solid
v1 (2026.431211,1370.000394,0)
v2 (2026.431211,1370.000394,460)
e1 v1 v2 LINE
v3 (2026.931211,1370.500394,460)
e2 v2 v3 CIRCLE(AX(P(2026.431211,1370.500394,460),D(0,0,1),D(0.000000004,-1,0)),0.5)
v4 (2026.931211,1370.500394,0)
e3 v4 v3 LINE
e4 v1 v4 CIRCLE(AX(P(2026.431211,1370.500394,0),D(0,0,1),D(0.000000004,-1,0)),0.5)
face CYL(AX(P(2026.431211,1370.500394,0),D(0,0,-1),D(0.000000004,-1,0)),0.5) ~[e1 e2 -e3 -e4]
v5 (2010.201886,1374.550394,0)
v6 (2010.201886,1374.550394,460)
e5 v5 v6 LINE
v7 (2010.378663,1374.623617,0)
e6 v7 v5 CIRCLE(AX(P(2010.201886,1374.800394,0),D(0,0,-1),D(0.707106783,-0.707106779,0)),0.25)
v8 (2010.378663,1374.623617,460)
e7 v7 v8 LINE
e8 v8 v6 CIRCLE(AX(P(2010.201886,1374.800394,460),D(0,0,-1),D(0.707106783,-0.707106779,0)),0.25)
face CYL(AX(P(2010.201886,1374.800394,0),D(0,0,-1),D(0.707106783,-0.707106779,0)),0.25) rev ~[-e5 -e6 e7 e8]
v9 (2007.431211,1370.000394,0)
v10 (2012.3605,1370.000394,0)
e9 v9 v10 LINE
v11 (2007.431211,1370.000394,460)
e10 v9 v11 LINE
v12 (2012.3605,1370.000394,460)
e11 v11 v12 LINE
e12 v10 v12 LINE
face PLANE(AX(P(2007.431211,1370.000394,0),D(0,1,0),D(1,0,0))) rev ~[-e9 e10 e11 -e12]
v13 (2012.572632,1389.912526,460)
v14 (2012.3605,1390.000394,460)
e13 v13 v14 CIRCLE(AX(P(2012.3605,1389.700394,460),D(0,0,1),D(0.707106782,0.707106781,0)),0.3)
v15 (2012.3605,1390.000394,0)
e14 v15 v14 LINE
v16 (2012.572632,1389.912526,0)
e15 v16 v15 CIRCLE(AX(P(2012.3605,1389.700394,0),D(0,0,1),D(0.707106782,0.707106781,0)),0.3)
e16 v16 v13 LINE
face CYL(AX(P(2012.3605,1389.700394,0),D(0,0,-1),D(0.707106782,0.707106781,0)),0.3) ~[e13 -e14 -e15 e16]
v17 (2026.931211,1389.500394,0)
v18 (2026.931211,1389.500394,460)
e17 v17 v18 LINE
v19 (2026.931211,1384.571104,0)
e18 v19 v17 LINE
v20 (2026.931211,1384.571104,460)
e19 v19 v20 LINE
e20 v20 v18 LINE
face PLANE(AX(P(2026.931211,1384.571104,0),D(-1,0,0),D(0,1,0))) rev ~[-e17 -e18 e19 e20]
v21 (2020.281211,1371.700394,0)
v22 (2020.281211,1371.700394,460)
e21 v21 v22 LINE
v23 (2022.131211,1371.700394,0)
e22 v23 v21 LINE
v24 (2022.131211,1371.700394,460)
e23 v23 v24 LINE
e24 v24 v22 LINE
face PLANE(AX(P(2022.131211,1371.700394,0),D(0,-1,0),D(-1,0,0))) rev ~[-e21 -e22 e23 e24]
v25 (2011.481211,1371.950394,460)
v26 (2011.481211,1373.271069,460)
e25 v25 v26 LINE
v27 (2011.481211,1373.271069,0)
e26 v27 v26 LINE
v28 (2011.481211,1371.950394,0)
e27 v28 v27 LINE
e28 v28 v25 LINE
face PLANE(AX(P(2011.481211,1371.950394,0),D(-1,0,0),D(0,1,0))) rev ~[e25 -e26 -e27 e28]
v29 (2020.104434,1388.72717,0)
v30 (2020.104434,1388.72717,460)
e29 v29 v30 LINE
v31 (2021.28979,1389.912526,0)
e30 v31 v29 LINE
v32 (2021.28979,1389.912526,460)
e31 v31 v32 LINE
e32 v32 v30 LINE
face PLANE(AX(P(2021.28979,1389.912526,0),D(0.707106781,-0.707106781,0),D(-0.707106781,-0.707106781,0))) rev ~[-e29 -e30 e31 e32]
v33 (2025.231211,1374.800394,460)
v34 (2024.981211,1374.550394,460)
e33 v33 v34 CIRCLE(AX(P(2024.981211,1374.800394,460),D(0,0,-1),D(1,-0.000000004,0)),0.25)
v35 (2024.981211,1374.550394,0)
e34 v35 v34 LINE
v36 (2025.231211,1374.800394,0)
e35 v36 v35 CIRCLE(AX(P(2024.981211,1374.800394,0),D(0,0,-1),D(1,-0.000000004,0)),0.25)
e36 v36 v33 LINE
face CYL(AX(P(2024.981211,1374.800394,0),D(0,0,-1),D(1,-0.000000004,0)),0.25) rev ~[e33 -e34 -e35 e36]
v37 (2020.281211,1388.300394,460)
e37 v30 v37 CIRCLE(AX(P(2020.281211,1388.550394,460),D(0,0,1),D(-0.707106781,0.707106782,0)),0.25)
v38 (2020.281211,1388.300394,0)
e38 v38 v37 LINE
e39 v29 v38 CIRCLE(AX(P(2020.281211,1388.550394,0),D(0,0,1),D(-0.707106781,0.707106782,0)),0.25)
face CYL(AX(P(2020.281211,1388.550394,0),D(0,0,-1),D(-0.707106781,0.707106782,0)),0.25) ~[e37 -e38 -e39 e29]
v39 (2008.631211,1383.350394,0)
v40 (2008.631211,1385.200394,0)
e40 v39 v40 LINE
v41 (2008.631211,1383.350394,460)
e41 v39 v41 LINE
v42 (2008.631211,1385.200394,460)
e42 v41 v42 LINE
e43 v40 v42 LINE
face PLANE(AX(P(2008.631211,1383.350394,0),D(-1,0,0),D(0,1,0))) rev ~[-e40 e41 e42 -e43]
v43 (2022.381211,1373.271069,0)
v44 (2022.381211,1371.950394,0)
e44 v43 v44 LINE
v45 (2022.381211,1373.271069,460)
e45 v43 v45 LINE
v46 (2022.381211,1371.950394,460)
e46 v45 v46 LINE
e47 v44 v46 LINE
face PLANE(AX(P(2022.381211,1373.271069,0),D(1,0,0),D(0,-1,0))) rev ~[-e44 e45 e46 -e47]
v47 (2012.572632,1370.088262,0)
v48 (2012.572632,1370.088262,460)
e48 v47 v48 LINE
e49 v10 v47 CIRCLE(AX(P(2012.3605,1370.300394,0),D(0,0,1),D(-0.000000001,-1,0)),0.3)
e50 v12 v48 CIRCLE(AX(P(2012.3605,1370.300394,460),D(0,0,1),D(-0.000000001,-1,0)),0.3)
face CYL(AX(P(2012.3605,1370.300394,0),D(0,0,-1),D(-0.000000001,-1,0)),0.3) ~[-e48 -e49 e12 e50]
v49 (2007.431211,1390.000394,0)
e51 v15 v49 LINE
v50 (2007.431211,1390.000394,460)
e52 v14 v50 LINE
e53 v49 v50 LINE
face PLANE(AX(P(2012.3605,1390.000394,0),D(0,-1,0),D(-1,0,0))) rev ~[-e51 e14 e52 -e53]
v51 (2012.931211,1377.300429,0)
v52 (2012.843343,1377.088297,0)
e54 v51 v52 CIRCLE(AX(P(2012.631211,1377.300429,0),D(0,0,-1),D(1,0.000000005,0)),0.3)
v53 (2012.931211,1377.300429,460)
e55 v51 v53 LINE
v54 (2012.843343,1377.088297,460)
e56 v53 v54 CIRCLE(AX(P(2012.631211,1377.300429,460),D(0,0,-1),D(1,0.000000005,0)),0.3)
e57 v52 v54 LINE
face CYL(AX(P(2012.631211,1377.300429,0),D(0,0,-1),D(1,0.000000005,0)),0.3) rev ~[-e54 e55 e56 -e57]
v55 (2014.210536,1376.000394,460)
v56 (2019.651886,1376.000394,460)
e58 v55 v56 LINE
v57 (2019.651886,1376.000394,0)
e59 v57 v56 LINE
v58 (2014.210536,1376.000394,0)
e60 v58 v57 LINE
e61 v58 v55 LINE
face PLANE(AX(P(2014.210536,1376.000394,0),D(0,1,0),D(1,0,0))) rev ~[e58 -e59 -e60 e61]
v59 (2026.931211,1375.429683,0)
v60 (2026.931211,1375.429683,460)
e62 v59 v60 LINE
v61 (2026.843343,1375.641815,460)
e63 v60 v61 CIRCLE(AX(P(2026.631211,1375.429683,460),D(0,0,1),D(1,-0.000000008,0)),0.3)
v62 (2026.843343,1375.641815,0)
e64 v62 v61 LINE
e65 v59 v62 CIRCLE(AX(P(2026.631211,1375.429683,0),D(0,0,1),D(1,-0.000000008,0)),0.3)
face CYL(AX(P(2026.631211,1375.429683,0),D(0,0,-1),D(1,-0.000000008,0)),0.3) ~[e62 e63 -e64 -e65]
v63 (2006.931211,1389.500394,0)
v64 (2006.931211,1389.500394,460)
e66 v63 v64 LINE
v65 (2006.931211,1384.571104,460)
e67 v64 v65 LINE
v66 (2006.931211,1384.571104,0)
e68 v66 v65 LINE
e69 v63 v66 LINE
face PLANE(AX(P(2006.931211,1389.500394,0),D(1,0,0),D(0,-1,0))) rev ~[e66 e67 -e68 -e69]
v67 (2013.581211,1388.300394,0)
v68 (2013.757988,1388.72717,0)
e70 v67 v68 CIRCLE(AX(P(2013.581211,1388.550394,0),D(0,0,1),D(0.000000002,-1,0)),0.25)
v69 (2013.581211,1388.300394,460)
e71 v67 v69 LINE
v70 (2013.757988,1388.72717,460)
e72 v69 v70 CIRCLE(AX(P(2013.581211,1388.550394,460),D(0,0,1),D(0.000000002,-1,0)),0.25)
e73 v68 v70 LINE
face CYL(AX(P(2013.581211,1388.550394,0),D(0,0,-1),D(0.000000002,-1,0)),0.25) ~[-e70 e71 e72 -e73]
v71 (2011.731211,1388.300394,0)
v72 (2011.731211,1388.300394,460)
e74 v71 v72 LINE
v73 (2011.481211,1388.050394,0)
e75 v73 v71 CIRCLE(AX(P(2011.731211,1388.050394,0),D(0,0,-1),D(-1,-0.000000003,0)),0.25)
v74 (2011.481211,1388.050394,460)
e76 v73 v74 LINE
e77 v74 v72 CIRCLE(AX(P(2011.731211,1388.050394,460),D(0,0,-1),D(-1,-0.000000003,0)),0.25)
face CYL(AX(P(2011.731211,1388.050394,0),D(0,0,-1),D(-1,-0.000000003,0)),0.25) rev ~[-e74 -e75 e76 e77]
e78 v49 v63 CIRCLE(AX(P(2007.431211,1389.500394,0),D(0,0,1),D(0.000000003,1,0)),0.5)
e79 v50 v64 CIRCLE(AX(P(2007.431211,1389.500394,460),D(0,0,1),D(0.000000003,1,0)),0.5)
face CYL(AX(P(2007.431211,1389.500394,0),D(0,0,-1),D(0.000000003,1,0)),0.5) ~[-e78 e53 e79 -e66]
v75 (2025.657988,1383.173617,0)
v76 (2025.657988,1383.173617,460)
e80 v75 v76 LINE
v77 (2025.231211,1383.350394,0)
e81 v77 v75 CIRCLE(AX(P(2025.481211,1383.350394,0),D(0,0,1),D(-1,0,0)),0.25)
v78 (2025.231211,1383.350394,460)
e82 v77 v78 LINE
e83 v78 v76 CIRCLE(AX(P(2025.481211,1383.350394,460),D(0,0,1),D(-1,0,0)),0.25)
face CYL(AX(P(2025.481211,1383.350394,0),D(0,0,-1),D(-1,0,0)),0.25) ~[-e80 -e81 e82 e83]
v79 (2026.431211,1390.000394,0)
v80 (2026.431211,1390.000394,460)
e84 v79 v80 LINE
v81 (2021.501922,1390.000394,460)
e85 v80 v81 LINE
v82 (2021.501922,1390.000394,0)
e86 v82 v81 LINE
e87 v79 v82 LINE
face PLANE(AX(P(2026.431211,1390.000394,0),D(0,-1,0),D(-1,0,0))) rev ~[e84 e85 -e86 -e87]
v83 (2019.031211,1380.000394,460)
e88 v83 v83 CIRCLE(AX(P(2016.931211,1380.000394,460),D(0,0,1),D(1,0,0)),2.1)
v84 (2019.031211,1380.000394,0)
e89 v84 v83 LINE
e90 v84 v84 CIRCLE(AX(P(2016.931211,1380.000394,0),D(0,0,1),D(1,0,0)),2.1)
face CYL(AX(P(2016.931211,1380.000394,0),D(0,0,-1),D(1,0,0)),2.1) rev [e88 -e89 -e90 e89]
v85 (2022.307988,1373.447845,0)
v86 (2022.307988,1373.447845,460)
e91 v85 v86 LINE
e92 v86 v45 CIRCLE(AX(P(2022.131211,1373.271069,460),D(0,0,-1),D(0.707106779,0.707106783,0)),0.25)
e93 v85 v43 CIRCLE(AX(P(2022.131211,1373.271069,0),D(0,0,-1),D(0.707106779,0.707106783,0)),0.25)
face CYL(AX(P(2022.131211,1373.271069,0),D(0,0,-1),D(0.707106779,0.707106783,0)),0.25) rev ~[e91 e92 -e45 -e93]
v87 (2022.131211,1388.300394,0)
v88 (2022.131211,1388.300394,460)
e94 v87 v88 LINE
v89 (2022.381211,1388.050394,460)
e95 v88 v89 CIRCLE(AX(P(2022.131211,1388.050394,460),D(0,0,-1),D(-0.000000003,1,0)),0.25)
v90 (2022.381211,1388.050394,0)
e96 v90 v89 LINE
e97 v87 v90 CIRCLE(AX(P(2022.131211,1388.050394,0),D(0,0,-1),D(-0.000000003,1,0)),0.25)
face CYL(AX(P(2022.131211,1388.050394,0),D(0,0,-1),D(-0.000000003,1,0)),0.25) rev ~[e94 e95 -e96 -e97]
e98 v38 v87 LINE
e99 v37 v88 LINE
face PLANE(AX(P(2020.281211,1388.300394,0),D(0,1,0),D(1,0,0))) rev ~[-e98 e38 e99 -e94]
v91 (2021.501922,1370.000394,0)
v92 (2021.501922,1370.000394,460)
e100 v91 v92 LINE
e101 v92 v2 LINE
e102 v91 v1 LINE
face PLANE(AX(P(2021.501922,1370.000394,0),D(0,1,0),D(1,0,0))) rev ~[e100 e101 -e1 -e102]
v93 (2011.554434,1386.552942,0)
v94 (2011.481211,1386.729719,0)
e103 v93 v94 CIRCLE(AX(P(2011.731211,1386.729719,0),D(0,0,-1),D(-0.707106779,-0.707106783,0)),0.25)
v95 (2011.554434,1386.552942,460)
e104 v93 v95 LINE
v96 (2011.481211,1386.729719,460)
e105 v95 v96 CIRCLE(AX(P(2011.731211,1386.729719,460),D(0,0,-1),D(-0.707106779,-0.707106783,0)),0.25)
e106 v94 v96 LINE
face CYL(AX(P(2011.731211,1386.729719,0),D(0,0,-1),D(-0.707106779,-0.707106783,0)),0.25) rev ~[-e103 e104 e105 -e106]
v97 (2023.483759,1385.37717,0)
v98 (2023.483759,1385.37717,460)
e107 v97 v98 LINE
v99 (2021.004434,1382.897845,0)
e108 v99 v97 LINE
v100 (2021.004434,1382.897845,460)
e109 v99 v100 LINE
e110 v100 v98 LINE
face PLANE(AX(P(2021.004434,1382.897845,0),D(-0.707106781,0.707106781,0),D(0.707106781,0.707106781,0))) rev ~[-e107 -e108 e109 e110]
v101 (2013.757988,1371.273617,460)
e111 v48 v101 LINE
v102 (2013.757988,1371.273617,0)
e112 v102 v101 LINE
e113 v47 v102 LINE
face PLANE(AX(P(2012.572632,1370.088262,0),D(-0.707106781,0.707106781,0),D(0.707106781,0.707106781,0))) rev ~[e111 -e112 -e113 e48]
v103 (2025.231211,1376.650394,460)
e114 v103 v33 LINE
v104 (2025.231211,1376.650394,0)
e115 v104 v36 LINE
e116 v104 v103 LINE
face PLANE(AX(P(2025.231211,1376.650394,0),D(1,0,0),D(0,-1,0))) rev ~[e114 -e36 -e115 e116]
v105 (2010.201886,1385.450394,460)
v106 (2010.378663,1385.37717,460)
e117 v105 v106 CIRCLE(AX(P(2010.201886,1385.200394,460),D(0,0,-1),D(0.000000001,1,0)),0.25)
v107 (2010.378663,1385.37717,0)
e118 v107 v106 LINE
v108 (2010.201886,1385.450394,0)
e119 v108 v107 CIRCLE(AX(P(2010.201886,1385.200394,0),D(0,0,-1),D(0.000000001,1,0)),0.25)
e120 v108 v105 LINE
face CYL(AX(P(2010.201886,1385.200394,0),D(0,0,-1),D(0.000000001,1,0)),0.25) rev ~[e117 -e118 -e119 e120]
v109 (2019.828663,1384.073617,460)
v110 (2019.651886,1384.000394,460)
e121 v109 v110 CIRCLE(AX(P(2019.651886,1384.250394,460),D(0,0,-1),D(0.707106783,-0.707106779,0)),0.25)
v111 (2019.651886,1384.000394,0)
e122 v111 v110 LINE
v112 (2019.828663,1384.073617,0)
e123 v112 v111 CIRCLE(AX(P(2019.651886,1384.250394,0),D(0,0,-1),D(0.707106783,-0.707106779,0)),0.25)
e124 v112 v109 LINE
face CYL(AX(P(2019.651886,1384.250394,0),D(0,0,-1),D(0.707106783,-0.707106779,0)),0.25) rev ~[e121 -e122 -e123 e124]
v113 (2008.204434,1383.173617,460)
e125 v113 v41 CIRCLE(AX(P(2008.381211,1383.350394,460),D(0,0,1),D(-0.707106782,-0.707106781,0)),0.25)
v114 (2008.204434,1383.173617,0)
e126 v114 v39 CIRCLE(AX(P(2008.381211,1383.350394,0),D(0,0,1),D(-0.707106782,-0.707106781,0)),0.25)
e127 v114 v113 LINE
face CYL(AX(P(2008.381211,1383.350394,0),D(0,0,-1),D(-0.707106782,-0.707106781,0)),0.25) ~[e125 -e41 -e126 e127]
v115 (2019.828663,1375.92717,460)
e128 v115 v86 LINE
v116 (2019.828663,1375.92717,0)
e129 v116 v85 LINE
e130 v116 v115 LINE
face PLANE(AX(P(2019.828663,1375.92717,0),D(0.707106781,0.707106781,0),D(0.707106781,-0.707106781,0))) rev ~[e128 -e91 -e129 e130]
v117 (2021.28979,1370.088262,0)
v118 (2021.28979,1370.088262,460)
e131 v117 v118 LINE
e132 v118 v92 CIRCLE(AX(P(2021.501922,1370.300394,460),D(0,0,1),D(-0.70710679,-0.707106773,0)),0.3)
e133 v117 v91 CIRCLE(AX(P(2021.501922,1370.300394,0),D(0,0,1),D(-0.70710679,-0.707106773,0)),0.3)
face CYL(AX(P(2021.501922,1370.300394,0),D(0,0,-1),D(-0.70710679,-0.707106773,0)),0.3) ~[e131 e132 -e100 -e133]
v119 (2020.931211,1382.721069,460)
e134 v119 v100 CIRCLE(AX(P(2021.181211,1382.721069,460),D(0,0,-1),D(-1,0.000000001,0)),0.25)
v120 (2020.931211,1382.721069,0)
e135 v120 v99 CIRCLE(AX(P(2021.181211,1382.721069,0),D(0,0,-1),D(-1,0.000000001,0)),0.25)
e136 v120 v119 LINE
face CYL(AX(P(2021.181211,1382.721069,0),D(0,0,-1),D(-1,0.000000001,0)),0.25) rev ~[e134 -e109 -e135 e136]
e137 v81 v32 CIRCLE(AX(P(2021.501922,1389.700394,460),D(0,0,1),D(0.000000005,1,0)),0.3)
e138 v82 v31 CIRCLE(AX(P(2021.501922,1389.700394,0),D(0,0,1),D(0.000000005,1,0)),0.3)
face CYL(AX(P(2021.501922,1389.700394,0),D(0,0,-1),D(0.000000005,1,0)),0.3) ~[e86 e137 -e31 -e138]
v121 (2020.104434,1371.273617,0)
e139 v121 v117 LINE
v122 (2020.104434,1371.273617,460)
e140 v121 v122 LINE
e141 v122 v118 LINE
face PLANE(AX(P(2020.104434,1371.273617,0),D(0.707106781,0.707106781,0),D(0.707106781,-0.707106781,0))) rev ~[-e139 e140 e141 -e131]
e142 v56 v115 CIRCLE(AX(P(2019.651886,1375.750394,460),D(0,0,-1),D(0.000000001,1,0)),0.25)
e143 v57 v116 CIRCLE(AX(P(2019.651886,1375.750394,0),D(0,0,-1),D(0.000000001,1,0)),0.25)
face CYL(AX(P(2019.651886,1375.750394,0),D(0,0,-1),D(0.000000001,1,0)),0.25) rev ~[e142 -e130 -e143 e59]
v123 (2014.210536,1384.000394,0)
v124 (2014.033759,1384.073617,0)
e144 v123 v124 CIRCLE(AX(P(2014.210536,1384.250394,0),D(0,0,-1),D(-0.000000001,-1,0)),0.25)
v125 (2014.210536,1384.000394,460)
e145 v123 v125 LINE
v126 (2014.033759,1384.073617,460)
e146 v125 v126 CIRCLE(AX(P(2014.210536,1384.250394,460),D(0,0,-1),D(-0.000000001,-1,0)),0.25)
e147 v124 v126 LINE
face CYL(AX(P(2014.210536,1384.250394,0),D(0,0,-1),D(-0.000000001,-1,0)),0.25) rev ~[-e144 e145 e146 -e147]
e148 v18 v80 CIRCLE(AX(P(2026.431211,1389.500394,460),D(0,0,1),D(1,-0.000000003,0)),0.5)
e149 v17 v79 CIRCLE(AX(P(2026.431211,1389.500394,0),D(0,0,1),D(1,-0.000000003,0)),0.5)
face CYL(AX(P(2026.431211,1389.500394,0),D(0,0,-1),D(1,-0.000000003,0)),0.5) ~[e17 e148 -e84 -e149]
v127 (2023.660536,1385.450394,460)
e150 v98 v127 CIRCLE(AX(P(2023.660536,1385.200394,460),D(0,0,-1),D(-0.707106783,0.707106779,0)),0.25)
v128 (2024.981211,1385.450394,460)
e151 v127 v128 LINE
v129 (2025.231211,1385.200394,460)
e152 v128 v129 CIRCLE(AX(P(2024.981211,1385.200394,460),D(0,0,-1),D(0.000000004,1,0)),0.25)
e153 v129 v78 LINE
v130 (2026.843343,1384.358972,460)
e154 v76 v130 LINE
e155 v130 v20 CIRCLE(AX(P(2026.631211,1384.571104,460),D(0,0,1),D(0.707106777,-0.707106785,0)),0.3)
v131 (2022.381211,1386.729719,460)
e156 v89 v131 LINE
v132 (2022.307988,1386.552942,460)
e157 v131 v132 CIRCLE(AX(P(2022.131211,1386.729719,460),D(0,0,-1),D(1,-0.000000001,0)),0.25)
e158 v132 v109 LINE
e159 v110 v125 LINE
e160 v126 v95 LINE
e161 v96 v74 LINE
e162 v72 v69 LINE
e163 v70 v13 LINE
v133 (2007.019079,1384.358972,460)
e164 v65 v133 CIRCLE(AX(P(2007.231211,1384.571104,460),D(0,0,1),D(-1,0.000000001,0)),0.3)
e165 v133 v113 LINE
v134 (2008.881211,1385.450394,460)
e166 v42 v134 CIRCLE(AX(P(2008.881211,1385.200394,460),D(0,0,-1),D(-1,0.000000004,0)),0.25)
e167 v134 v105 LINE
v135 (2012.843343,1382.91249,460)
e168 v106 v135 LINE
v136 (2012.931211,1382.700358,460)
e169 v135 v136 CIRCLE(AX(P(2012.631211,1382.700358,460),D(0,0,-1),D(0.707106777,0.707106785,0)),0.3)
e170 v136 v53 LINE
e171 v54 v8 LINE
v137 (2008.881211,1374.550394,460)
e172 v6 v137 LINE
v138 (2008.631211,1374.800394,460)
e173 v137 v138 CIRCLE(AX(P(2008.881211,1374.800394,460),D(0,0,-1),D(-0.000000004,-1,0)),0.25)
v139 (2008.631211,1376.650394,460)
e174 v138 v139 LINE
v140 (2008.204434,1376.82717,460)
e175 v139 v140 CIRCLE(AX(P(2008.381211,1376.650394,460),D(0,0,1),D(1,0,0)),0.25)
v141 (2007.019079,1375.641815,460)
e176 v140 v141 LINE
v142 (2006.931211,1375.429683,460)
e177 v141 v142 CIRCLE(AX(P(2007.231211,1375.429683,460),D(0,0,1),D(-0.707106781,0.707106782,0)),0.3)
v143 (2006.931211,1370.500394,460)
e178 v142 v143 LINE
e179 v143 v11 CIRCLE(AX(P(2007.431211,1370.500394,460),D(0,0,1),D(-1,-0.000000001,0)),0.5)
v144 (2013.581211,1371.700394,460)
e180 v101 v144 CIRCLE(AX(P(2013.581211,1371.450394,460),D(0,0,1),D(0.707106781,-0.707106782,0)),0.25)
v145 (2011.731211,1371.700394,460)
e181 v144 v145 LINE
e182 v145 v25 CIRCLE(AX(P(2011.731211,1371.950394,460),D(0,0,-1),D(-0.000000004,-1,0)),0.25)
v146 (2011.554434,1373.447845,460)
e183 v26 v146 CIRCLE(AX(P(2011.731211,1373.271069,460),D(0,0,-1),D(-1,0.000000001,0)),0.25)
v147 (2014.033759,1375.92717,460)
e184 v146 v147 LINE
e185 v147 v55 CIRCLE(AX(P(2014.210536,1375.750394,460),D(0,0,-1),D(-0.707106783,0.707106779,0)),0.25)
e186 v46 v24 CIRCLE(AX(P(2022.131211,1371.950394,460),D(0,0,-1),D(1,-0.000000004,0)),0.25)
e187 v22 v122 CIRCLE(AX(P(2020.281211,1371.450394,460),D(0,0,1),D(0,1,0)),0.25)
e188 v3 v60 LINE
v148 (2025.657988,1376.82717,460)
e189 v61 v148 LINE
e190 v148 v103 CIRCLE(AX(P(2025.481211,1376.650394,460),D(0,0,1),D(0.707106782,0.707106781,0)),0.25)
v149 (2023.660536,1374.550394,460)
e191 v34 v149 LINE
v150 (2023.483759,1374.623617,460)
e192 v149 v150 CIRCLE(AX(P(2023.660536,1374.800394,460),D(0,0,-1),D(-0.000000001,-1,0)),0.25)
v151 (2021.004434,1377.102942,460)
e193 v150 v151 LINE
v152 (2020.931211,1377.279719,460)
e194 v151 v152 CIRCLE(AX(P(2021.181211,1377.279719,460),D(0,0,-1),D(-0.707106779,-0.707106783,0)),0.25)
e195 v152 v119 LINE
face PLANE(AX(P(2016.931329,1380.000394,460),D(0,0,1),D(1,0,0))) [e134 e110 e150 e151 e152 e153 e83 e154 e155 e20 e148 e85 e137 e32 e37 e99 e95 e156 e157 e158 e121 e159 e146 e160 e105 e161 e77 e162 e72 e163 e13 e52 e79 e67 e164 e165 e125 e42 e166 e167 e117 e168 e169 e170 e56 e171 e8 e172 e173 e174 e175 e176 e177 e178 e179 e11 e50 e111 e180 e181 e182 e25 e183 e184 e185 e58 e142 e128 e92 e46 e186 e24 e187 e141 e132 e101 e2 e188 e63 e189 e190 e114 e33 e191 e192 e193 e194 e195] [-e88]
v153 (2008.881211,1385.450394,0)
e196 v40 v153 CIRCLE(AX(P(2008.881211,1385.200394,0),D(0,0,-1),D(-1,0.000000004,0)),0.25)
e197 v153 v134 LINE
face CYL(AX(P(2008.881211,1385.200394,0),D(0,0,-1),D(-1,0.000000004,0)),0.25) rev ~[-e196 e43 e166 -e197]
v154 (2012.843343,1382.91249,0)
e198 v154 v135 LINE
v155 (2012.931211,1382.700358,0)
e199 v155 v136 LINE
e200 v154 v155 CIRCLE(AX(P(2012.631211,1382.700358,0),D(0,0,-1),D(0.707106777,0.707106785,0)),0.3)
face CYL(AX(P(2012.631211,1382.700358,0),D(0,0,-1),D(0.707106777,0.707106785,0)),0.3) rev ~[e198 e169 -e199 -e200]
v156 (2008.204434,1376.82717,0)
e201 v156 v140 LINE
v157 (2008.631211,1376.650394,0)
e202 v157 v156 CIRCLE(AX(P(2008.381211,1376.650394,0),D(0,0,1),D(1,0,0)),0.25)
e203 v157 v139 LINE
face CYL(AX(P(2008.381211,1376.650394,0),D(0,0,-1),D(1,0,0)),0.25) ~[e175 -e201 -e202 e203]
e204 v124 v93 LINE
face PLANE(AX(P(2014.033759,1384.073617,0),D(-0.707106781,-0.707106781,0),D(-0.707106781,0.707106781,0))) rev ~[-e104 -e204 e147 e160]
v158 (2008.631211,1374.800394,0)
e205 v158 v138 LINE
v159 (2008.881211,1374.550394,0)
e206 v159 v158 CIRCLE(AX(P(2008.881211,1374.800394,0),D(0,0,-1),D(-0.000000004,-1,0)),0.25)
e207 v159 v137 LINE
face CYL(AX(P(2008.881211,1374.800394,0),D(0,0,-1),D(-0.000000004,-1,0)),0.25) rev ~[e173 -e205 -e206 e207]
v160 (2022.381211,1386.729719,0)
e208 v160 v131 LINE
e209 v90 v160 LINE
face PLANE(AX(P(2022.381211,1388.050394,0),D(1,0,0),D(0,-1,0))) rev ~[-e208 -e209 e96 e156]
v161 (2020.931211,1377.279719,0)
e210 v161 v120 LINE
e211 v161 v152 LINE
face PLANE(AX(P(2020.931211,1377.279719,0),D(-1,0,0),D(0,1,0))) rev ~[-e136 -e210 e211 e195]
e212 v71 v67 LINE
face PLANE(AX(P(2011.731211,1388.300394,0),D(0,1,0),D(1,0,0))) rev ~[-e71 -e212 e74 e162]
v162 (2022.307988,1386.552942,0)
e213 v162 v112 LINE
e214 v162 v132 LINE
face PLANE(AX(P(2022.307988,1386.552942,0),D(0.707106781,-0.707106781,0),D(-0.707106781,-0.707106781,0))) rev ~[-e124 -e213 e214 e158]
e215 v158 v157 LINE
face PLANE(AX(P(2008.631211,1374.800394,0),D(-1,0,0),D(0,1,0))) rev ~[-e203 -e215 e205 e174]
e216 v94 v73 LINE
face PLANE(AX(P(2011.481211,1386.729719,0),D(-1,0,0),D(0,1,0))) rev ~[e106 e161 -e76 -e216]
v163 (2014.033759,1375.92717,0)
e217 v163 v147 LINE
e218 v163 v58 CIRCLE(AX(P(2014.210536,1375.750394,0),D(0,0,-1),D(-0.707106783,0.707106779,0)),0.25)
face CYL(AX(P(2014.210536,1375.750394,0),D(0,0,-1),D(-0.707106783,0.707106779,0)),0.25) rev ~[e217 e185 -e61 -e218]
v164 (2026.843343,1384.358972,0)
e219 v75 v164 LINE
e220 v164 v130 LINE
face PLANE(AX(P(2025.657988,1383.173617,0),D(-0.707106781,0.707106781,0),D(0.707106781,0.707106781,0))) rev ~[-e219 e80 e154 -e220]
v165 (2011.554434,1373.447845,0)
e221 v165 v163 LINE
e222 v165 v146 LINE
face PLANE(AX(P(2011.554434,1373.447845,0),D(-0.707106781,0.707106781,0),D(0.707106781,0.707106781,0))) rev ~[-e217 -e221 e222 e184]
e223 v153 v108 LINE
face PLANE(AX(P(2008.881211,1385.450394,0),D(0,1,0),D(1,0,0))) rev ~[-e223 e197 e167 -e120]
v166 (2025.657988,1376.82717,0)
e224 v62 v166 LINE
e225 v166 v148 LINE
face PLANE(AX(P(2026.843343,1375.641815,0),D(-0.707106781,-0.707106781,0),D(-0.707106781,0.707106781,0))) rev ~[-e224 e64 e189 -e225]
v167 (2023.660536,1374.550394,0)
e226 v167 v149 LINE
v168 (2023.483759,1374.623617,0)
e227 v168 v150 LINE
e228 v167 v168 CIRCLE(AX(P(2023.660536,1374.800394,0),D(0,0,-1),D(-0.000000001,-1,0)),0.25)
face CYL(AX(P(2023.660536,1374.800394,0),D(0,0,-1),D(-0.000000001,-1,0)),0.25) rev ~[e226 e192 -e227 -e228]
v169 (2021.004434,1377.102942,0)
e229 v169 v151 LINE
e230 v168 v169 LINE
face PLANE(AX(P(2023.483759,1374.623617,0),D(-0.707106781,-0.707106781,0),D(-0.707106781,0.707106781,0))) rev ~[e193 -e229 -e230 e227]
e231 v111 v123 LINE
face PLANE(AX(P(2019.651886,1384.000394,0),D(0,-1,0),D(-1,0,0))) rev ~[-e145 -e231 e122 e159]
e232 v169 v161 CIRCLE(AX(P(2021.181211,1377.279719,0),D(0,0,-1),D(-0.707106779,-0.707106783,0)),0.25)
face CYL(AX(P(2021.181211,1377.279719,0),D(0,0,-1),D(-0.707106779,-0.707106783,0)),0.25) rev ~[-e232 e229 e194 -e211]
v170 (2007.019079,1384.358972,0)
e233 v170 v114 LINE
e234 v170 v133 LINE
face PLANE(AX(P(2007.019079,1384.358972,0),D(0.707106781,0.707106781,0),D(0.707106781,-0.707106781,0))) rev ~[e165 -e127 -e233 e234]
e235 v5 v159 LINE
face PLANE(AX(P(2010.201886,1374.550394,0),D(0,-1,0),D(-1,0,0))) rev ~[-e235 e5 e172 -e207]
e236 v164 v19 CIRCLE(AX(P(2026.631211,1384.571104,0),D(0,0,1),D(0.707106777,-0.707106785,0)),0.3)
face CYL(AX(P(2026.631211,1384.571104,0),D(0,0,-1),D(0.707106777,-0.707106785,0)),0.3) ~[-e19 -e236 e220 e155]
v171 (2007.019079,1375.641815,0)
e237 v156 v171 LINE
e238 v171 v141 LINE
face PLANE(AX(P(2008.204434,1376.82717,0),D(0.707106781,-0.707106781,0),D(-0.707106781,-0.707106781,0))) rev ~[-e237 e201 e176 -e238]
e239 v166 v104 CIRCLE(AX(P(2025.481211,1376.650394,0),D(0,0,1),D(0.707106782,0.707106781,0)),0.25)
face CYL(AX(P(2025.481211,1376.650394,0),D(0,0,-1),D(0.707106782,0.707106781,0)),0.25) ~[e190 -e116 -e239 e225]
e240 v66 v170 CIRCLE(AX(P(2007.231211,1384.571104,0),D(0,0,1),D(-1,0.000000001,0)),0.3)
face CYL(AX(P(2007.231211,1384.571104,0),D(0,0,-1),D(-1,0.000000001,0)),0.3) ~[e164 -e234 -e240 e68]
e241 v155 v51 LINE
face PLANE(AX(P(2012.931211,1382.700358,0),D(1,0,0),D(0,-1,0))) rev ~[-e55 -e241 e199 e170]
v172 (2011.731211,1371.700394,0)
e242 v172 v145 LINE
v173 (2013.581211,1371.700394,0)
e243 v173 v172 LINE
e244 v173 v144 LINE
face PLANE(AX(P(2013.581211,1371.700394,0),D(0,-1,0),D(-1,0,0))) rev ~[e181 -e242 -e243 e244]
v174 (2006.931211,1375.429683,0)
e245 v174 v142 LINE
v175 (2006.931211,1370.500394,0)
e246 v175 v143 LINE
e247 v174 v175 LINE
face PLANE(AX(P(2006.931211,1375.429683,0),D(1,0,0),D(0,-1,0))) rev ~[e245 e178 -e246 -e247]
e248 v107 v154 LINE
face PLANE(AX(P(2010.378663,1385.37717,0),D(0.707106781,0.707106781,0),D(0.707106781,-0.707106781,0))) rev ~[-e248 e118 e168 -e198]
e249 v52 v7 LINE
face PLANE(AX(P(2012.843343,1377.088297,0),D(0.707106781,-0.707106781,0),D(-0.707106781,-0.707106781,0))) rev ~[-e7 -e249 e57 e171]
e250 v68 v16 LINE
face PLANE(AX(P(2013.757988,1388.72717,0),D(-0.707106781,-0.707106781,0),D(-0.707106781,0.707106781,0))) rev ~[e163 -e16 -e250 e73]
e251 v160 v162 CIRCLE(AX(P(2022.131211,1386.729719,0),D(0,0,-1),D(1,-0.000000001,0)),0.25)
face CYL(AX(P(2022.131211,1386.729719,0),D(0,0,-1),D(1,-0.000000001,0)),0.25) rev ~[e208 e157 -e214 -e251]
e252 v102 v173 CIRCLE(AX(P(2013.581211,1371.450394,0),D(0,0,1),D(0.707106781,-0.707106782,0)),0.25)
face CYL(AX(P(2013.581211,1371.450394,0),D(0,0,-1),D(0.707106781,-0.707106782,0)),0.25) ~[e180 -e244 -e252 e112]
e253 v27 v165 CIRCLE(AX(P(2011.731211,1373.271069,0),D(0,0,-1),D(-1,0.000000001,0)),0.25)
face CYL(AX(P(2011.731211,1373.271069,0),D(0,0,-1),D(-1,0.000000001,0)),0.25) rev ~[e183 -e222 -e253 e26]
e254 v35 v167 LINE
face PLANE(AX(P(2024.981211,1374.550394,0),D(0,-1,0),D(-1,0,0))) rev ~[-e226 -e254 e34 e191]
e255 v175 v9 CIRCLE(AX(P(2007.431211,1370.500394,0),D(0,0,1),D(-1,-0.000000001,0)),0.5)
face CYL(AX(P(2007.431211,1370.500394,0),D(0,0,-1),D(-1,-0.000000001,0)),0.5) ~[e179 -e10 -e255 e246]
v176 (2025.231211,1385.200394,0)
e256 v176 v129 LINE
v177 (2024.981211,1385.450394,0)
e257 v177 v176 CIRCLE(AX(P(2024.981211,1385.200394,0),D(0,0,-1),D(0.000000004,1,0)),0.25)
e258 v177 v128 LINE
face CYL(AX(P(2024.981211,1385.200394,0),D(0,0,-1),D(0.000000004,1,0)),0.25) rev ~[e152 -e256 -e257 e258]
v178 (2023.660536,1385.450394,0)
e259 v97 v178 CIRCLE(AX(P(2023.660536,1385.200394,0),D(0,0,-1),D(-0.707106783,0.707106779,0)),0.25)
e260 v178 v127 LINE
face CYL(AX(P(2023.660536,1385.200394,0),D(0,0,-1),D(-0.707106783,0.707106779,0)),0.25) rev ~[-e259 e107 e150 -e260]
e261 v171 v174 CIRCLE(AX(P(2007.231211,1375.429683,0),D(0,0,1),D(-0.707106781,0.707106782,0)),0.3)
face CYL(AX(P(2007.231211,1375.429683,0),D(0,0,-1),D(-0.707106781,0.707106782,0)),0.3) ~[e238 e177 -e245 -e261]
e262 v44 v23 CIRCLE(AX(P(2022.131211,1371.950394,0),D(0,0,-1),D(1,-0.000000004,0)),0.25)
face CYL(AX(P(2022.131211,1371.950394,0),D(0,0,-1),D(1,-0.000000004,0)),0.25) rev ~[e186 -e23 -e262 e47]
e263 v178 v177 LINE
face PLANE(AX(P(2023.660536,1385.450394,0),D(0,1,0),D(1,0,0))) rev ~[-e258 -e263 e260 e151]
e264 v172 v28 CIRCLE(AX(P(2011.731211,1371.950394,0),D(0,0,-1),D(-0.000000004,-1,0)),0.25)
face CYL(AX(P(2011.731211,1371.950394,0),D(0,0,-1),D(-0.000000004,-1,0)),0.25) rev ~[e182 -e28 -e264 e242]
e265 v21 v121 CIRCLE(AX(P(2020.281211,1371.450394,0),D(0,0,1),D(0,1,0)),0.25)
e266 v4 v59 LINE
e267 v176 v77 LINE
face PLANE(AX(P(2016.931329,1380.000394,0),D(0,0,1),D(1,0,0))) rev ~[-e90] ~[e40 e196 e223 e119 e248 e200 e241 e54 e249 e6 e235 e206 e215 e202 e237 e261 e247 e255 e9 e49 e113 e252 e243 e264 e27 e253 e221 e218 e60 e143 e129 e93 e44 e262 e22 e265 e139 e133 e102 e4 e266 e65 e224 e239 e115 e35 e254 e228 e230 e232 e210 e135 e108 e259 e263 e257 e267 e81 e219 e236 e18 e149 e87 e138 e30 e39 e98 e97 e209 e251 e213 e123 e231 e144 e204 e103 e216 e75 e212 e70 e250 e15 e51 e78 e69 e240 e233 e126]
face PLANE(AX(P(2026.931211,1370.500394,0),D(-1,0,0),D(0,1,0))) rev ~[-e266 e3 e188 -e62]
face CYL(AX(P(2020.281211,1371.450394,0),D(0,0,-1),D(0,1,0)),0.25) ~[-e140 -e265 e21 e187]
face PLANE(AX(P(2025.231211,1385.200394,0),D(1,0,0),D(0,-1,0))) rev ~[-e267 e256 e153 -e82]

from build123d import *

# Parameters (mm, degrees)
MODEL_R             = 2.1
BOSS_EXTRUDE1_DEPTH = 460


with BuildPart() as part:
    # Model → Boss-Extrude1 (new body)
    with BuildSketch(Plane.XY):
        with BuildLine():
            Line((2012.931211125, 1381.800393717), (2012.931211125, 1378.200393717))
            Line((2012.931211125, 1378.200393717), (2012.931211125, 1377.300429431))
            ThreePointArc((2012.931211125, 1377.300429431), (2012.908374985, 1377.185624401), (2012.843343159, 1377.088297396))
            Line((2012.843343159, 1377.088297396), (2010.378662785, 1374.623617022))
            ThreePointArc((2010.378662785, 1374.623617022), (2010.297556948, 1374.569423834), (2010.20188609, 1374.550393717))
            Line((2010.20188609, 1374.550393717), (2008.881211125, 1374.550393717))
            ThreePointArc((2008.881211125, 1374.550393717), (2008.70443443, 1374.623617022), (2008.631211125, 1374.800393717))
            Line((2008.631211125, 1374.800393717), (2008.631211125, 1376.650393717))
            ThreePointArc((2008.631211125, 1376.650393717), (2008.476881983, 1376.8813636), (2008.20443443, 1376.827170412))
            Line((2008.20443443, 1376.827170412), (2007.01907909, 1375.641815073))
            ThreePointArc((2007.01907909, 1375.641815073), (2006.954047265, 1375.544488069), (2006.931211125, 1375.429683039))
            Line((2006.931211125, 1375.429683039), (2006.931211125, 1370.500393717))
            ThreePointArc((2006.931211125, 1370.500393717), (2007.077657734, 1370.146840327), (2007.431211125, 1370.000393717))
            Line((2007.431211125, 1370.000393717), (2012.360500447, 1370.000393717))
            ThreePointArc((2012.360500447, 1370.000393717), (2012.475305476, 1370.023229857), (2012.572632481, 1370.088261683))
            Line((2012.572632481, 1370.088261683), (2013.75798782, 1371.273617022))
            ThreePointArc((2013.75798782, 1371.273617022), (2013.812181008, 1371.546064575), (2013.581211125, 1371.700393717))
            Line((2013.581211125, 1371.700393717), (2011.731211125, 1371.700393717))
            ThreePointArc((2011.731211125, 1371.700393717), (2011.55443443, 1371.773617022), (2011.481211125, 1371.950393717))
            Line((2011.481211125, 1371.950393717), (2011.481211125, 1373.271068682))
            ThreePointArc((2011.481211125, 1373.271068682), (2011.500241242, 1373.36673954), (2011.55443443, 1373.447845377))
            Line((2011.55443443, 1373.447845377), (2014.033759465, 1375.927170412))
            ThreePointArc((2014.033759465, 1375.927170412), (2014.114865302, 1375.9813636), (2014.21053616, 1376.000393717))
            Line((2014.21053616, 1376.000393717), (2016.470233902, 1376.000393717))
            Line((2016.470233902, 1376.000393717), (2017.392188348, 1376.000393717))
            Line((2017.392188348, 1376.000393717), (2019.65188609, 1376.000393717))
            ThreePointArc((2019.65188609, 1376.000393717), (2019.747556948, 1375.9813636), (2019.828662785, 1375.927170412))
            Line((2019.828662785, 1375.927170412), (2022.30798782, 1373.447845377))
            ThreePointArc((2022.30798782, 1373.447845377), (2022.362181008, 1373.36673954), (2022.381211125, 1373.271068682))
            Line((2022.381211125, 1373.271068682), (2022.381211125, 1371.950393717))
            ThreePointArc((2022.381211125, 1371.950393717), (2022.30798782, 1371.773617022), (2022.131211125, 1371.700393717))
            Line((2022.131211125, 1371.700393717), (2020.281211125, 1371.700393717))
            ThreePointArc((2020.281211125, 1371.700393717), (2020.050241242, 1371.546064575), (2020.10443443, 1371.273617022))
            Line((2020.10443443, 1371.273617022), (2021.289789769, 1370.088261683))
            ThreePointArc((2021.289789769, 1370.088261683), (2021.387116773, 1370.023229857), (2021.501921803, 1370.000393717))
            Line((2021.501921803, 1370.000393717), (2026.431211125, 1370.000393717))
            ThreePointArc((2026.431211125, 1370.000393717), (2026.784764515, 1370.146840327), (2026.931211125, 1370.500393717))
            Line((2026.931211125, 1370.500393717), (2026.931211125, 1375.429683039))
            ThreePointArc((2026.931211125, 1375.429683039), (2026.908374985, 1375.544488069), (2026.843343159, 1375.641815073))
            Line((2026.843343159, 1375.641815073), (2025.65798782, 1376.827170412))
            ThreePointArc((2025.65798782, 1376.827170412), (2025.385540267, 1376.8813636), (2025.231211125, 1376.650393717))
            Line((2025.231211125, 1376.650393717), (2025.231211125, 1374.800393717))
            ThreePointArc((2025.231211125, 1374.800393717), (2025.15798782, 1374.623617022), (2024.981211125, 1374.550393717))
            Line((2024.981211125, 1374.550393717), (2023.66053616, 1374.550393717))
            ThreePointArc((2023.66053616, 1374.550393717), (2023.564865302, 1374.569423834), (2023.483759465, 1374.623617022))
            Line((2023.483759465, 1374.623617022), (2021.00443443, 1377.102942057))
            ThreePointArc((2021.00443443, 1377.102942057), (2020.950241242, 1377.184047894), (2020.931211125, 1377.279718752))
            Line((2020.931211125, 1377.279718752), (2020.931211125, 1379.539416494))
            Line((2020.931211125, 1379.539416494), (2020.931211125, 1380.46137094))
            Line((2020.931211125, 1380.46137094), (2020.931211125, 1382.721068682))
            ThreePointArc((2020.931211125, 1382.721068682), (2020.950241242, 1382.81673954), (2021.00443443, 1382.897845377))
            Line((2021.00443443, 1382.897845377), (2023.483759465, 1385.377170412))
            ThreePointArc((2023.483759465, 1385.377170412), (2023.564865302, 1385.4313636), (2023.66053616, 1385.450393717))
            Line((2023.66053616, 1385.450393717), (2024.981211125, 1385.450393717))
            ThreePointArc((2024.981211125, 1385.450393717), (2025.15798782, 1385.377170412), (2025.231211125, 1385.200393717))
            Line((2025.231211125, 1385.200393717), (2025.231211125, 1383.350393717))
            ThreePointArc((2025.231211125, 1383.350393717), (2025.385540267, 1383.119423834), (2025.65798782, 1383.173617022))
            Line((2025.65798782, 1383.173617022), (2026.843343159, 1384.358972361))
            ThreePointArc((2026.843343159, 1384.358972361), (2026.908374985, 1384.456299366), (2026.931211125, 1384.571104395))
            Line((2026.931211125, 1384.571104395), (2026.931211125, 1389.500393717))
            ThreePointArc((2026.931211125, 1389.500393717), (2026.784764516, 1389.853947108), (2026.431211125, 1390.000393717))
            Line((2026.431211125, 1390.000393717), (2021.501921803, 1390.000393717))
            ThreePointArc((2021.501921803, 1390.000393717), (2021.387116773, 1389.977557577), (2021.289789769, 1389.912525752))
            Line((2021.289789769, 1389.912525752), (2020.10443443, 1388.727170413))
            ThreePointArc((2020.10443443, 1388.727170413), (2020.050241242, 1388.454722859), (2020.281211125, 1388.300393717))
            Line((2020.281211125, 1388.300393717), (2022.131211125, 1388.300393717))
            ThreePointArc((2022.131211125, 1388.300393717), (2022.30798782, 1388.227170413), (2022.381211125, 1388.050393717))
            Line((2022.381211125, 1388.050393717), (2022.381211125, 1386.729718752))
            ThreePointArc((2022.381211125, 1386.729718752), (2022.362181008, 1386.634047894), (2022.30798782, 1386.552942057))
            Line((2022.30798782, 1386.552942057), (2019.828662785, 1384.073617022))
            ThreePointArc((2019.828662785, 1384.073617022), (2019.747556948, 1384.019423834), (2019.65188609, 1384.000393717))
            Line((2019.65188609, 1384.000393717), (2017.392188348, 1384.000393717))
            Line((2017.392188348, 1384.000393717), (2016.470233902, 1384.000393717))
            Line((2016.470233902, 1384.000393717), (2014.21053616, 1384.000393717))
            ThreePointArc((2014.21053616, 1384.000393717), (2014.114865302, 1384.019423834), (2014.033759465, 1384.073617022))
            Line((2014.033759465, 1384.073617022), (2011.55443443, 1386.552942057))
            ThreePointArc((2011.55443443, 1386.552942057), (2011.500241242, 1386.634047894), (2011.481211125, 1386.729718752))
            Line((2011.481211125, 1386.729718752), (2011.481211125, 1388.050393717))
            ThreePointArc((2011.481211125, 1388.050393717), (2011.55443443, 1388.227170413), (2011.731211125, 1388.300393717))
            Line((2011.731211125, 1388.300393717), (2013.581211125, 1388.300393717))
            ThreePointArc((2013.581211125, 1388.300393717), (2013.812181008, 1388.454722859), (2013.75798782, 1388.727170413))
            Line((2013.75798782, 1388.727170413), (2012.572632481, 1389.912525752))
            ThreePointArc((2012.572632481, 1389.912525752), (2012.475305477, 1389.977557577), (2012.360500447, 1390.000393717))
            Line((2012.360500447, 1390.000393717), (2007.431211125, 1390.000393717))
            ThreePointArc((2007.431211125, 1390.000393717), (2007.077657734, 1389.853947108), (2006.931211125, 1389.500393717))
            Line((2006.931211125, 1389.500393717), (2006.931211125, 1384.571104395))
            ThreePointArc((2006.931211125, 1384.571104395), (2006.954047265, 1384.456299366), (2007.019079091, 1384.358972361))
            Line((2007.019079091, 1384.358972361), (2008.20443443, 1383.173617022))
            ThreePointArc((2008.20443443, 1383.173617022), (2008.476881983, 1383.119423834), (2008.631211125, 1383.350393717))
            Line((2008.631211125, 1383.350393717), (2008.631211125, 1385.200393717))
            ThreePointArc((2008.631211125, 1385.200393717), (2008.70443443, 1385.377170412), (2008.881211125, 1385.450393717))
            Line((2008.881211125, 1385.450393717), (2010.20188609, 1385.450393717))
            ThreePointArc((2010.20188609, 1385.450393717), (2010.297556948, 1385.4313636), (2010.378662785, 1385.377170412))
            Line((2010.378662785, 1385.377170412), (2012.843343159, 1382.912490038))
            ThreePointArc((2012.843343159, 1382.912490038), (2012.908374985, 1382.815163033), (2012.931211125, 1382.700358004))
            Line((2012.931211125, 1382.700358004), (2012.931211125, 1381.800393717))
        make_face()
        with Locations((2016.931211125, 1380.000393717)):
            Circle(MODEL_R, mode=Mode.SUBTRACT)
    extrude(amount=BOSS_EXTRUDE1_DEPTH)


solid = part.part
